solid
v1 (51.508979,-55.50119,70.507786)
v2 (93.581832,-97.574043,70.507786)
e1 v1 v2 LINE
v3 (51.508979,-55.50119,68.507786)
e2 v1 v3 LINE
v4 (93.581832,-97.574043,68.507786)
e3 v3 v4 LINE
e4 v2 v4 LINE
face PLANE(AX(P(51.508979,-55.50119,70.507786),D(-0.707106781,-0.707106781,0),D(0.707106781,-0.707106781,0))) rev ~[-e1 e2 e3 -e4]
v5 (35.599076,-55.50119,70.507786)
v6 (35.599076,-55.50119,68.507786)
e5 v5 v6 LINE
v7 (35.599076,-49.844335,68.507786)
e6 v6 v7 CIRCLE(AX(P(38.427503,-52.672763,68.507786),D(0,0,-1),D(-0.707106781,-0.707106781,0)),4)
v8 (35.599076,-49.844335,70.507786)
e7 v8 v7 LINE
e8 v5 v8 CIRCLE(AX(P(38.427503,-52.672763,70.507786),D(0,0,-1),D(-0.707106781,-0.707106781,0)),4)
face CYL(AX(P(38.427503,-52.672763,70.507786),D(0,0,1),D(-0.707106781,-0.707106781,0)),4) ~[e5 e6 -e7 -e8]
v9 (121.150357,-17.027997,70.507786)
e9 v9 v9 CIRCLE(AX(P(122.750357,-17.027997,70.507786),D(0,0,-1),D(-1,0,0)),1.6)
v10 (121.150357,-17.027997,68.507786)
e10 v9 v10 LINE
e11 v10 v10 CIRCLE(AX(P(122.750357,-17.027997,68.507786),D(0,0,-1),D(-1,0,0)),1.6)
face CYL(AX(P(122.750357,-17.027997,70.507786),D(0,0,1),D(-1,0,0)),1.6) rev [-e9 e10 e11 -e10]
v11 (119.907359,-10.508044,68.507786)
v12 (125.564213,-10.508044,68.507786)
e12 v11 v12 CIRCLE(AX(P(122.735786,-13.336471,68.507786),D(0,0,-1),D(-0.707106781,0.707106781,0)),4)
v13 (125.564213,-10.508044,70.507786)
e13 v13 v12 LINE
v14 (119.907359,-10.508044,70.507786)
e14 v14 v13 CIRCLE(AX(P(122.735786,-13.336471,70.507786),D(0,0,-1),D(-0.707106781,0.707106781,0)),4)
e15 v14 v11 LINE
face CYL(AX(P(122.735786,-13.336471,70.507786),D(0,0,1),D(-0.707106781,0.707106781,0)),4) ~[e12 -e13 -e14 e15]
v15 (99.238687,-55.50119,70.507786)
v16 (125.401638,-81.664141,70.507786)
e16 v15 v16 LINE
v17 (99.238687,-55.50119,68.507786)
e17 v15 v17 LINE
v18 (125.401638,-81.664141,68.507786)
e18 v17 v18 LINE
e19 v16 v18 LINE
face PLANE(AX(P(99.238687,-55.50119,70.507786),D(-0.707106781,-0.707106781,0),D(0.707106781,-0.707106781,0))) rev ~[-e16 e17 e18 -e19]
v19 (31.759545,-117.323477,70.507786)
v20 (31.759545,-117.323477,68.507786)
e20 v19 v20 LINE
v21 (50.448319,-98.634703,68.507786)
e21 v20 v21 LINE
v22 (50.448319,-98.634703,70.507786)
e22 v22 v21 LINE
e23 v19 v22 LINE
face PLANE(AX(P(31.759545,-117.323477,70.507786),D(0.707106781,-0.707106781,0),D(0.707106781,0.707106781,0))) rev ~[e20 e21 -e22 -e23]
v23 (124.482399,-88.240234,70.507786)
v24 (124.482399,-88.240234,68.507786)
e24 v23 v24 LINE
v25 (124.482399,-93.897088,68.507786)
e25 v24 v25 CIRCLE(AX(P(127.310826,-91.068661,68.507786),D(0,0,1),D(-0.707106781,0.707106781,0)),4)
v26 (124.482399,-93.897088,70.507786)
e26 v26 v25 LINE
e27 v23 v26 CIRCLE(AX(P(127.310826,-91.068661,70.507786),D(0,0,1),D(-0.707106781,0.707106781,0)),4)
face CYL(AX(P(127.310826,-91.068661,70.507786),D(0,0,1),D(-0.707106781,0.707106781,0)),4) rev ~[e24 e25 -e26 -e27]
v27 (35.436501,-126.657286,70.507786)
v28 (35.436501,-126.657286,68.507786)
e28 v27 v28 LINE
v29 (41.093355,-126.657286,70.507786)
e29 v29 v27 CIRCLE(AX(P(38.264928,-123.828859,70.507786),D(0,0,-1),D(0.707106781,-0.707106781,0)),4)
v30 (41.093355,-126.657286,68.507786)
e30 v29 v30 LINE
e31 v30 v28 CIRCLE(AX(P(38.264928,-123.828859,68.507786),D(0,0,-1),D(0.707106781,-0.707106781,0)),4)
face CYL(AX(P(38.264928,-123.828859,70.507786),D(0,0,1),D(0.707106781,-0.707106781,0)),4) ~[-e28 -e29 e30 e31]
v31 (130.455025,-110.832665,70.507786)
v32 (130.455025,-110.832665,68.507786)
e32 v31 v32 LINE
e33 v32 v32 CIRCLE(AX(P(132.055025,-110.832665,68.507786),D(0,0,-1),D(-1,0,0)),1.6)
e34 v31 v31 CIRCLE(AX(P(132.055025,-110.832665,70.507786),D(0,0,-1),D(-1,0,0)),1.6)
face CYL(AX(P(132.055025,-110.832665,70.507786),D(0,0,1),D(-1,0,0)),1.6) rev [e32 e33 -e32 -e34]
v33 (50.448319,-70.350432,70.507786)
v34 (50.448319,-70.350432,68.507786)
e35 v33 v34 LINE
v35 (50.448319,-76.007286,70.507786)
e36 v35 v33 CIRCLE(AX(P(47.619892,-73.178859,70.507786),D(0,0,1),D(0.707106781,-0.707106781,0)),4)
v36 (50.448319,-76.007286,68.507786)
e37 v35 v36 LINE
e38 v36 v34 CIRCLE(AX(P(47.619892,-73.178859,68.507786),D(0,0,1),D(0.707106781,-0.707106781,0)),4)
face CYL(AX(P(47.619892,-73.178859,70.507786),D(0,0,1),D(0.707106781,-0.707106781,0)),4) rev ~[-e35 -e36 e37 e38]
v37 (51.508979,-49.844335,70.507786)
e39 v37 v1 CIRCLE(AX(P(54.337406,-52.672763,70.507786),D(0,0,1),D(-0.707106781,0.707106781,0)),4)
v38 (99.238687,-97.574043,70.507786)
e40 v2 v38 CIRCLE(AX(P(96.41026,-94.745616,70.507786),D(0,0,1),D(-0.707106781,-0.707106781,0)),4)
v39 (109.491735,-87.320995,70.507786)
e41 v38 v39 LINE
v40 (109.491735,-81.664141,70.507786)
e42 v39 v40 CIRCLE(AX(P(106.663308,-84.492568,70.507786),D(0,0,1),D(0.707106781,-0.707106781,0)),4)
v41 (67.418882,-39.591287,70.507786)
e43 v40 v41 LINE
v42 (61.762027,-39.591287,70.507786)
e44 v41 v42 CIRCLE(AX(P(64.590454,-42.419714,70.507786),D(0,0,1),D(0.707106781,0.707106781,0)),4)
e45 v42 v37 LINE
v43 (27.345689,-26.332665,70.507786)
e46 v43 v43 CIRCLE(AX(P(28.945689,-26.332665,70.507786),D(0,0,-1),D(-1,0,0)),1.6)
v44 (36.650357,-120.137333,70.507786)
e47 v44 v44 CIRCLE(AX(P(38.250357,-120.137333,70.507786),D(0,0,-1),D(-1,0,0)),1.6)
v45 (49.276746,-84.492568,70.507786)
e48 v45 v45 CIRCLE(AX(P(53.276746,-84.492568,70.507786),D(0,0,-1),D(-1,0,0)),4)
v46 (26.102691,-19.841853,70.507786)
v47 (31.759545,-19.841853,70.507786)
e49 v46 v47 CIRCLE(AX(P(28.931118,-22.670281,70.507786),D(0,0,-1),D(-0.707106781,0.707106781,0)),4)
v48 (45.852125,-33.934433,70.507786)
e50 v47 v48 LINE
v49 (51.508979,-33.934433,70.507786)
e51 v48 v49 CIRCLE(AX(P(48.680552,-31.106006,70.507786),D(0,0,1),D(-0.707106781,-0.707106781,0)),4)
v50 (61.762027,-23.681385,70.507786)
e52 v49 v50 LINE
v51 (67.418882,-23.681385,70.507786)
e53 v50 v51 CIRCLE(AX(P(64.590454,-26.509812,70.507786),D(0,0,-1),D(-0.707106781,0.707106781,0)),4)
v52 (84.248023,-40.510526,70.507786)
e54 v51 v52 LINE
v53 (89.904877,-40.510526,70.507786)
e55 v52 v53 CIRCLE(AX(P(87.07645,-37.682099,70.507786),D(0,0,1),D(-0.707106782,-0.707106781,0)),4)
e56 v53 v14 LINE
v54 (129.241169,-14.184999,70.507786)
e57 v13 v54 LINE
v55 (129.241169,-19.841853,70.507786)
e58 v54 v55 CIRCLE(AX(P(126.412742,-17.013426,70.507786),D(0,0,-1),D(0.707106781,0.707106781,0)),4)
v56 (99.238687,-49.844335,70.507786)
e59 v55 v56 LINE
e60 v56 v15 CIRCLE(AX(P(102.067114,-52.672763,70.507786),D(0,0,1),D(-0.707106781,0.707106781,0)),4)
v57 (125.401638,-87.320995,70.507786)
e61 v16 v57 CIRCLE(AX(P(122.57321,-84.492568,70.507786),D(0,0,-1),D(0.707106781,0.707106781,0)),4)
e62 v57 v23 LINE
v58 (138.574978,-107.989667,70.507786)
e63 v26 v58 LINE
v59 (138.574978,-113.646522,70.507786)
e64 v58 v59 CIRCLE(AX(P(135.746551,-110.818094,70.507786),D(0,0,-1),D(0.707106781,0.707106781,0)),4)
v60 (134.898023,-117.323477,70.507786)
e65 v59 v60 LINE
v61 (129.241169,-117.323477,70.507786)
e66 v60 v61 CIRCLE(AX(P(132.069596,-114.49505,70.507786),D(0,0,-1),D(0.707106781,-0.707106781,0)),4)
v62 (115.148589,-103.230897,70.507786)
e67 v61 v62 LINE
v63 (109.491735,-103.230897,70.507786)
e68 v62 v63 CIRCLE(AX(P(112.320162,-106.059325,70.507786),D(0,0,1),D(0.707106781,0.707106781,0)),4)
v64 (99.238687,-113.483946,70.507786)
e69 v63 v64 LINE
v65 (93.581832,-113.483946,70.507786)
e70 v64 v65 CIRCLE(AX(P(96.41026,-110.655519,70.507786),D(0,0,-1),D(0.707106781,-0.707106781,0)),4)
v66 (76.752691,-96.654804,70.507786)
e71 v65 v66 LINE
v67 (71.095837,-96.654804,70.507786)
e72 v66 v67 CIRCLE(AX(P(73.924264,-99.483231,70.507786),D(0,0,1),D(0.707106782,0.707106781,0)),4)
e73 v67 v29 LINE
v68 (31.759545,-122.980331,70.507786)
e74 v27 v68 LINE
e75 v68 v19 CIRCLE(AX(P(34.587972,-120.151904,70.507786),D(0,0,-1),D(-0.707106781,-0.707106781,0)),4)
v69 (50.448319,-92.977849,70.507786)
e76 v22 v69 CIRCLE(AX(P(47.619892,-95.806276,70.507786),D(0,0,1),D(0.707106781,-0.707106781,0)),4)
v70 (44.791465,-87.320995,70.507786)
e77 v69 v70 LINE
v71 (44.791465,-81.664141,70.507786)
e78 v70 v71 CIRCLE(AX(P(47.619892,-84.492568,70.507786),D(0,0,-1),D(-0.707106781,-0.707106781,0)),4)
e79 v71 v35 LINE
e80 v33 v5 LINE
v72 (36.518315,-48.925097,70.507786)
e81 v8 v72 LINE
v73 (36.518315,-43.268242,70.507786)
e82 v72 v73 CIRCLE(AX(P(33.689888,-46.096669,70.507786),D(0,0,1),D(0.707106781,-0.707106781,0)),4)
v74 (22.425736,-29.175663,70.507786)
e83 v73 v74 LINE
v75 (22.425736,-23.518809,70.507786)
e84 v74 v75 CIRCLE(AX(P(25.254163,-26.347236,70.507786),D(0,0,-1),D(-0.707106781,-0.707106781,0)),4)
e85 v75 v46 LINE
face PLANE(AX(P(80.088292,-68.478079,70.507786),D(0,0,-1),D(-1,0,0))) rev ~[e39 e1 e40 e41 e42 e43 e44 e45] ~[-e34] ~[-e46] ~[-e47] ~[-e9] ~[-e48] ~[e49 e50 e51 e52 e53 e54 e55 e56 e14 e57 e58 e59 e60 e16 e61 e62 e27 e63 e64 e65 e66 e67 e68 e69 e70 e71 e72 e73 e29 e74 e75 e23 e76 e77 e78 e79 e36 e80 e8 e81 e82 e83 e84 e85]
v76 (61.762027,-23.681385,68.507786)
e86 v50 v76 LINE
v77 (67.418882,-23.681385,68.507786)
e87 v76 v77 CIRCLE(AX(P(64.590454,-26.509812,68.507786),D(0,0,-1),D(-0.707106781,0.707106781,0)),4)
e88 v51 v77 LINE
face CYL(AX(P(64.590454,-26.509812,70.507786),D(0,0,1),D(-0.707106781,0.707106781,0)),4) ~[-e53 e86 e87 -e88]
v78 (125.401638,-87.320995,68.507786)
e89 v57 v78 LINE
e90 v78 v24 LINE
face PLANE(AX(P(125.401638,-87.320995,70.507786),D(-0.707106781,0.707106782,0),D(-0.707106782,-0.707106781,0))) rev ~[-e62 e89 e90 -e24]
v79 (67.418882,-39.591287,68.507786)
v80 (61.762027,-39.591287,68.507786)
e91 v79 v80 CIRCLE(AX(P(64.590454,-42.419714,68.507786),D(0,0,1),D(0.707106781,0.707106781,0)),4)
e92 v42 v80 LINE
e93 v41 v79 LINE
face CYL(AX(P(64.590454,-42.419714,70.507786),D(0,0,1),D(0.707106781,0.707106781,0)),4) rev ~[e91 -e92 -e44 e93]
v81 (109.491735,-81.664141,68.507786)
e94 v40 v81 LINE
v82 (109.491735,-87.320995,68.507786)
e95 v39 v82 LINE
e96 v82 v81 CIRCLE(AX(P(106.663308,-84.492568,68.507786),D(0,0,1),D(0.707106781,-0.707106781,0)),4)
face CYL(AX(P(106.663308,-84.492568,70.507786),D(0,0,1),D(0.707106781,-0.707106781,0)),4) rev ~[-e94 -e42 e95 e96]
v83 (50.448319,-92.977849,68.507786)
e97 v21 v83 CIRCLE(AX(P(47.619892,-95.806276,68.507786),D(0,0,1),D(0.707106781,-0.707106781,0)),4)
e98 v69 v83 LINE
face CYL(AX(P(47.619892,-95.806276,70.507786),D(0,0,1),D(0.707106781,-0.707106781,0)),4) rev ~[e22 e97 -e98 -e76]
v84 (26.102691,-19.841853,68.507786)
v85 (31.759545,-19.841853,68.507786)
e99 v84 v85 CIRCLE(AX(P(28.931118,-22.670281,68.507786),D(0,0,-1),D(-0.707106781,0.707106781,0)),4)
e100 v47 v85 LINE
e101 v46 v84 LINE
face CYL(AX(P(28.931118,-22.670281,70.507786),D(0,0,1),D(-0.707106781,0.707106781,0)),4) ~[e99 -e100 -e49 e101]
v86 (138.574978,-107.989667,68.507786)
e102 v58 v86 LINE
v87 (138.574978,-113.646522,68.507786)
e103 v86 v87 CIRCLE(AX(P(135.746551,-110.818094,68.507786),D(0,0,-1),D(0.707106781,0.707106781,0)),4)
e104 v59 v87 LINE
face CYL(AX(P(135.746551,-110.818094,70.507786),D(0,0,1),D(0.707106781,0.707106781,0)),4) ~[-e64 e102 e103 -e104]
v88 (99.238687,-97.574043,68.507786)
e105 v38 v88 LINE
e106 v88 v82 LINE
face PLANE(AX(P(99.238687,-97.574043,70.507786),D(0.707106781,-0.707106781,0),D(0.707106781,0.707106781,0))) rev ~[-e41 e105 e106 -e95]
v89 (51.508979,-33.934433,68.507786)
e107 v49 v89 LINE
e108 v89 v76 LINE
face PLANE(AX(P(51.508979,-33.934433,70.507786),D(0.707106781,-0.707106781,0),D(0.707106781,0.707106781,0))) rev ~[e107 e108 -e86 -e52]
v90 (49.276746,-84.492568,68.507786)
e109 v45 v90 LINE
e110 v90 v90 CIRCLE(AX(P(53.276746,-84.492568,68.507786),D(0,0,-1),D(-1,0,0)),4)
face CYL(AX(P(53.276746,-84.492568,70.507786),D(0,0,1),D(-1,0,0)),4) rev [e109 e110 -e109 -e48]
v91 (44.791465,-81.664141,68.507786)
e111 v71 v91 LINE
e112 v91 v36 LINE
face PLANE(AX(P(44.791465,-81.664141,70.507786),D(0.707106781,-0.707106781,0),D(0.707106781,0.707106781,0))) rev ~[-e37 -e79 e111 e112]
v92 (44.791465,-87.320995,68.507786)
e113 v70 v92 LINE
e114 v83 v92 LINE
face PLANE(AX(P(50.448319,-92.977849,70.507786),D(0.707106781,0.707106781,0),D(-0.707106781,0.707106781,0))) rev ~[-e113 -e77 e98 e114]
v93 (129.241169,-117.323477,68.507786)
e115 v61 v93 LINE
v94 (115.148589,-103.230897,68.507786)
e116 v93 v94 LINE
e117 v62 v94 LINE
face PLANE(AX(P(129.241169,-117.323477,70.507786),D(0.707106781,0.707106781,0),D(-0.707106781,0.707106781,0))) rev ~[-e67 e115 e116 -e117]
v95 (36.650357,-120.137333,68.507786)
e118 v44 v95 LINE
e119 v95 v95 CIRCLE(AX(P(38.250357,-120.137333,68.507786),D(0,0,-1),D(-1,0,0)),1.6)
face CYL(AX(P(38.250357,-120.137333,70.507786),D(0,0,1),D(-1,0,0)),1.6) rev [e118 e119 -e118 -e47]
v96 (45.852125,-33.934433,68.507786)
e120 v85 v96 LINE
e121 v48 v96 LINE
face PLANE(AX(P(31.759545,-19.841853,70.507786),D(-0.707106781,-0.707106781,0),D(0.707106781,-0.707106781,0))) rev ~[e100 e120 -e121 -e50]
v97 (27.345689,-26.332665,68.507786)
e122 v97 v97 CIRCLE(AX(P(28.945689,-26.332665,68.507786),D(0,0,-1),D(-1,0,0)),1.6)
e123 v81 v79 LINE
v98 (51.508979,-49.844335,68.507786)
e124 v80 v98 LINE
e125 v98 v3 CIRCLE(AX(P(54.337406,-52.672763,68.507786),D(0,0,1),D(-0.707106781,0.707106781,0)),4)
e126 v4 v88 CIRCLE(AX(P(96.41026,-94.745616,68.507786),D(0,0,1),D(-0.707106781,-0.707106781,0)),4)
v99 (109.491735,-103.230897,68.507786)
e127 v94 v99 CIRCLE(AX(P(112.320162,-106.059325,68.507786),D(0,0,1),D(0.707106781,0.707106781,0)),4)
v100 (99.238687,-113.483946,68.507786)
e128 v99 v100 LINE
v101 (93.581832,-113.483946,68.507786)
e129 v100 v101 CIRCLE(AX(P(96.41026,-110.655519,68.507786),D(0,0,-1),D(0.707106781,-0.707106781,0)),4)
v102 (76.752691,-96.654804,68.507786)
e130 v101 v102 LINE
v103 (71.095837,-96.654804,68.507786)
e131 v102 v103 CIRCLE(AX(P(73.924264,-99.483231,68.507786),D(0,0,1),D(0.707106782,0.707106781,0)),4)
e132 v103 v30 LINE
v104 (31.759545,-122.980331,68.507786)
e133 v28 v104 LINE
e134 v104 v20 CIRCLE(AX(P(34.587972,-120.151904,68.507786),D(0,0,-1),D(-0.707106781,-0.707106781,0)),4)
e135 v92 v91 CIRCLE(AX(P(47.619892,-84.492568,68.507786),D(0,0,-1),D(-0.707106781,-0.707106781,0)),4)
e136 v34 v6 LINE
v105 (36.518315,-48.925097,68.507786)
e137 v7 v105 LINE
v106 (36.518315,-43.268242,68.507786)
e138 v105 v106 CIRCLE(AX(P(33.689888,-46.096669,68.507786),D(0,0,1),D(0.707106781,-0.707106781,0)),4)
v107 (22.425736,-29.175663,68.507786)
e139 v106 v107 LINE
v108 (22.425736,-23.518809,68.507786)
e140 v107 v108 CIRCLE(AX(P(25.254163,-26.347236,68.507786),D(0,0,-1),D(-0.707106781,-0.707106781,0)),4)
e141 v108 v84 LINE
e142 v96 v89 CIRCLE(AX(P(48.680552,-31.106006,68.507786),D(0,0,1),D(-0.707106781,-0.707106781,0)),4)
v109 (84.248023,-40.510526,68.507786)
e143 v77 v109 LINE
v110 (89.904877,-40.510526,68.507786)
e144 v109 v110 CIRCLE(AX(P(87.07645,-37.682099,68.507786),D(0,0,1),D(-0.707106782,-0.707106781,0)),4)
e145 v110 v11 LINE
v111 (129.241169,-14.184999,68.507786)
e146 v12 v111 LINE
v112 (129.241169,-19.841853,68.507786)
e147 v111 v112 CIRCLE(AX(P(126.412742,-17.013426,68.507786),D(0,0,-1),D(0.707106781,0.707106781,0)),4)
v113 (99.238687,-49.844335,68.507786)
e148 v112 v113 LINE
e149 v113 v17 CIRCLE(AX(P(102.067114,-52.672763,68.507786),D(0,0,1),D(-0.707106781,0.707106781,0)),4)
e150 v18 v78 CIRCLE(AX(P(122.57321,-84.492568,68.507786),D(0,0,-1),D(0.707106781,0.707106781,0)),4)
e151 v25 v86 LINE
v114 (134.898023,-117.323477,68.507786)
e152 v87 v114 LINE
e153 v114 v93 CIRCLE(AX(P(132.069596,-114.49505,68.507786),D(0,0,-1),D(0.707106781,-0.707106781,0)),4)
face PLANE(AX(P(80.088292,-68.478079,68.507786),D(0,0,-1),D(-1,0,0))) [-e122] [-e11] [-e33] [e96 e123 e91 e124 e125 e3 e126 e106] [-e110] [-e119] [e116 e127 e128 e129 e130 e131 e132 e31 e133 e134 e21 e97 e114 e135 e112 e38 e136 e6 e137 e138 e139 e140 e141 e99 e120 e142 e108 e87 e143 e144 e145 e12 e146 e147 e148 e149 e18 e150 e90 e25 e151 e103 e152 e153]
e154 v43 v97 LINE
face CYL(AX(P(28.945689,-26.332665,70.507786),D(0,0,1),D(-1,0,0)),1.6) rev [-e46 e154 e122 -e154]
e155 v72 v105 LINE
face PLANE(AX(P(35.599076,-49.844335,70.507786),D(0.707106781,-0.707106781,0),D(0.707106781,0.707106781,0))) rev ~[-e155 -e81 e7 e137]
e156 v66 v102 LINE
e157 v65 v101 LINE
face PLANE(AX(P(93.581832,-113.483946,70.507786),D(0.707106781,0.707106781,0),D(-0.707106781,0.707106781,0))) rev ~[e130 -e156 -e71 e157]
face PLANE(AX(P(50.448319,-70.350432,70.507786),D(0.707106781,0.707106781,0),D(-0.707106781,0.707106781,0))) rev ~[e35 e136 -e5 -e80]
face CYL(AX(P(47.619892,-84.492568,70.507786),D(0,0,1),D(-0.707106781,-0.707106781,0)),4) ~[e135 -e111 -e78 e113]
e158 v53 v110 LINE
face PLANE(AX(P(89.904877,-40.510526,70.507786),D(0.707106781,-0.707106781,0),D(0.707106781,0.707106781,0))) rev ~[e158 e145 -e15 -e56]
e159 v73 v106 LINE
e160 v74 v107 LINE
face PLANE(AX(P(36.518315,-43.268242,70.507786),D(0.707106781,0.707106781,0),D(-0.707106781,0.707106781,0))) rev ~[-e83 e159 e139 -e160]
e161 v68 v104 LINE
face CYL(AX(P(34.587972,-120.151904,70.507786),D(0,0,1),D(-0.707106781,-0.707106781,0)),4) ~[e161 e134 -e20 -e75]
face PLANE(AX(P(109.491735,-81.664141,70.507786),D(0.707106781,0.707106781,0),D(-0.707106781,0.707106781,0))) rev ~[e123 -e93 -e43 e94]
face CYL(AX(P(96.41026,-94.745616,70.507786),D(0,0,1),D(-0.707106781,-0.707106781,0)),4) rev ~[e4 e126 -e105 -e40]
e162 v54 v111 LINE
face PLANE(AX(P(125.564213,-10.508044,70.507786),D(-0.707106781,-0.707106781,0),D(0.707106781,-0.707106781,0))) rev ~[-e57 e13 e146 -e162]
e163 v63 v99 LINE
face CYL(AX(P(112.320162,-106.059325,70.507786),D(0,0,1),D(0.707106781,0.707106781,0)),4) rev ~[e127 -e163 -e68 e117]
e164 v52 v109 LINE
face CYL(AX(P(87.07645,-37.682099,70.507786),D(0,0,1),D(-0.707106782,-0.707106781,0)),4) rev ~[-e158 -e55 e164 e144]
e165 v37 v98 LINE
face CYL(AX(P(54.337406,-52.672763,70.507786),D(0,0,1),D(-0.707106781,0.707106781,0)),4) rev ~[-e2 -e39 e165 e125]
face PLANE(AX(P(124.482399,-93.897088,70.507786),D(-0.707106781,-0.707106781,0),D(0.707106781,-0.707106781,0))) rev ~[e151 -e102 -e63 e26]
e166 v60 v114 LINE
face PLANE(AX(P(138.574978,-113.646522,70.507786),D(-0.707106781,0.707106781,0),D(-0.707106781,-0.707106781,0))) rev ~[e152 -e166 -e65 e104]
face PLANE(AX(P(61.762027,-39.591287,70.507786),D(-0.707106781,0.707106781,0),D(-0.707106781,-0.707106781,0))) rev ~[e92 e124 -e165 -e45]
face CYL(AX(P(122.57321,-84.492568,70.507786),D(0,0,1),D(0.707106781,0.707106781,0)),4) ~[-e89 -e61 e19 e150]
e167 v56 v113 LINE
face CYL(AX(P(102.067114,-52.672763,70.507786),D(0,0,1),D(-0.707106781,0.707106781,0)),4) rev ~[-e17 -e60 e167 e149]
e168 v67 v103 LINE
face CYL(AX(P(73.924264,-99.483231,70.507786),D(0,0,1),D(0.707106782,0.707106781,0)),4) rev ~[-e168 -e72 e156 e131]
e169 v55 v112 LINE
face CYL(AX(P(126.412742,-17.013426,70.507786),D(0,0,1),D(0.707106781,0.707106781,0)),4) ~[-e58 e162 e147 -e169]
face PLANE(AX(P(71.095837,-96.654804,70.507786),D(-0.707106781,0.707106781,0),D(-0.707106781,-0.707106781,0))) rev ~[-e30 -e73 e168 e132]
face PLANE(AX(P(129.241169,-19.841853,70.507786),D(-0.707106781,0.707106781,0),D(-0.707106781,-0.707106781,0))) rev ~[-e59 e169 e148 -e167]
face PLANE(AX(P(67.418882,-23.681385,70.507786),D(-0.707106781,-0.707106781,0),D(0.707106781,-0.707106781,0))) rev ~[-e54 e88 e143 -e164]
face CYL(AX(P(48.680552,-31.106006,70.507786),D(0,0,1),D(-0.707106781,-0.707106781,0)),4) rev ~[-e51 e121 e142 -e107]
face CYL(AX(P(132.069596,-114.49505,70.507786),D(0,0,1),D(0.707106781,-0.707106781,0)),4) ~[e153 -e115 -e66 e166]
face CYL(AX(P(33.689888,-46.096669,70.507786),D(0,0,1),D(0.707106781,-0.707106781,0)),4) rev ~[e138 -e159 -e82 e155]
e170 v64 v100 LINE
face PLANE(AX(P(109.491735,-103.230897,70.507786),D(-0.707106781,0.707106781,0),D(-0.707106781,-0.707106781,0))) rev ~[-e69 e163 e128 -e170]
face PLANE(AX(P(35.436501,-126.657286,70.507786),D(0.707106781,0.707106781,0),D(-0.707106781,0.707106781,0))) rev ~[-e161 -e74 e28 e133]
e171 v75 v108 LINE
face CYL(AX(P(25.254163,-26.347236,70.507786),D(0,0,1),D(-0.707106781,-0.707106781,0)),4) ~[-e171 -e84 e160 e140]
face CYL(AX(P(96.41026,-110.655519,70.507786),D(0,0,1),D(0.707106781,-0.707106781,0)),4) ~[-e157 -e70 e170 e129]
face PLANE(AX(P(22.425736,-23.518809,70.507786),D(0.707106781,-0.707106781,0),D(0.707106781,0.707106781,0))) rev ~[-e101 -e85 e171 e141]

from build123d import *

# Parameters (mm, degrees)
SKETCH2_R           = 1.6
SKETCH2_R_2         = 4
BOSS_EXTRUDE1_DEPTH = 2


with BuildPart() as part:
    # Sketch2 → Boss-Extrude1 (new body)
    with BuildSketch(Plane(origin=(0, 0, 70.507785861), x_dir=(-1, 0, 0), z_dir=(0, 0, -1))):
        with BuildLine():
            Line((-93.581832429, -113.483945735), (-76.752691037, -96.654804343))
            ThreePointArc((-76.752691037, -96.654804343), (-73.924263912, -95.483231467), (-71.095836788, -96.654804343))
            Line((-71.095836788, -96.654804343), (-41.093354786, -126.657286344))
            ThreePointArc((-41.093354786, -126.657286344), (-38.264927661, -127.828859219), (-35.436500537, -126.657286344))
            Line((-35.436500537, -126.657286344), (-31.759545275, -122.980331082))
            ThreePointArc((-31.759545275, -122.980331082), (-30.587972399, -120.151903957), (-31.759545275, -117.323476832))
            Line((-31.759545275, -117.323476832), (-50.448318777, -98.63470333))
            ThreePointArc((-50.448318777, -98.63470333), (-51.619891652, -95.806276205), (-50.448318777, -92.97784908))
            Line((-50.448318777, -92.97784908), (-44.791464528, -87.320994831))
            ThreePointArc((-44.791464528, -87.320994831), (-43.619891652, -84.492567706), (-44.791464528, -81.664140581))
            Line((-44.791464528, -81.664140581), (-50.448318777, -76.007286332))
            ThreePointArc((-50.448318777, -76.007286332), (-51.619891652, -73.178859207), (-50.448318777, -70.350432082))
            Line((-50.448318777, -70.350432082), (-35.599076372, -55.501189677))
            ThreePointArc((-35.599076372, -55.501189677), (-34.427503497, -52.672762553), (-35.599076372, -49.844335428))
            Line((-35.599076372, -49.844335428), (-36.518315188, -48.925096612))
            ThreePointArc((-36.518315188, -48.925096612), (-37.689888063, -46.096669488), (-36.518315188, -43.268242363))
            Line((-36.518315188, -43.268242363), (-22.425735763, -29.175662938))
            ThreePointArc((-22.425735763, -29.175662938), (-21.254162888, -26.347235813), (-22.425735763, -23.518808689))
            Line((-22.425735763, -23.518808689), (-26.102691025, -19.841853427))
            ThreePointArc((-26.102691025, -19.841853427), (-28.93111815, -18.670280551), (-31.759545275, -19.841853427))
            Line((-31.759545275, -19.841853427), (-45.852124699, -33.934432851))
            ThreePointArc((-45.852124699, -33.934432851), (-48.680551824, -35.106005727), (-51.508978949, -33.934432851))
            Line((-51.508978949, -33.934432851), (-61.762027276, -23.681384524))
            ThreePointArc((-61.762027276, -23.681384524), (-64.590454401, -22.509811649), (-67.418881525, -23.681384524))
            Line((-67.418881525, -23.681384524), (-84.248022918, -40.510525916))
            ThreePointArc((-84.248022918, -40.510525916), (-87.076450042, -41.682098792), (-89.904877167, -40.510525916))
            Line((-89.904877167, -40.510525916), (-119.907359169, -10.508043915))
            ThreePointArc((-119.907359169, -10.508043915), (-122.735786293, -9.33647104), (-125.564213418, -10.508043915))
            Line((-125.564213418, -10.508043915), (-129.24116868, -14.184999177))
            ThreePointArc((-129.24116868, -14.184999177), (-130.412741556, -17.013426302), (-129.24116868, -19.841853427))
            Line((-129.24116868, -19.841853427), (-99.238686679, -49.844335428))
            ThreePointArc((-99.238686679, -49.844335428), (-98.067113804, -52.672762553), (-99.238686679, -55.501189677))
            Line((-99.238686679, -55.501189677), (-125.401637583, -81.664140581))
            ThreePointArc((-125.401637583, -81.664140581), (-126.573210458, -84.492567706), (-125.401637583, -87.320994831))
            Line((-125.401637583, -87.320994831), (-124.482398767, -88.240233646))
            ThreePointArc((-124.482398767, -88.240233646), (-123.310825892, -91.068660771), (-124.482398767, -93.897087896))
            Line((-124.482398767, -93.897087896), (-138.574978192, -107.989667321))
            ThreePointArc((-138.574978192, -107.989667321), (-139.746551067, -110.818094445), (-138.574978192, -113.64652157))
            Line((-138.574978192, -113.64652157), (-134.89802293, -117.323476832))
            ThreePointArc((-134.89802293, -117.323476832), (-132.069595805, -118.495049708), (-129.24116868, -117.323476832))
            Line((-129.24116868, -117.323476832), (-115.148589256, -103.230897408))
            ThreePointArc((-115.148589256, -103.230897408), (-112.320162131, -102.059324532), (-109.491735006, -103.230897408))
            Line((-109.491735006, -103.230897408), (-99.238686679, -113.483945735))
            ThreePointArc((-99.238686679, -113.483945735), (-96.410259554, -114.65551861), (-93.581832429, -113.483945735))
        make_face()
        with Locations((-132.055025121, -110.832665129)):
            Circle(SKETCH2_R, mode=Mode.SUBTRACT)
        with Locations((-28.945688834, -26.332665129)):
            Circle(SKETCH2_R, mode=Mode.SUBTRACT)
        with Locations((-122.750356977, -17.027996986)):
            Circle(SKETCH2_R, mode=Mode.SUBTRACT)
        with Locations((-38.250356977, -120.137333273)):
            Circle(SKETCH2_R, mode=Mode.SUBTRACT)
        with Locations((-53.276745902, -84.492567706)):
            Circle(SKETCH2_R_2, mode=Mode.SUBTRACT)
        with BuildLine():
            Line((-109.491735006, -81.664140581), (-67.418881525, -39.591287101))
            ThreePointArc((-67.418881525, -39.591287101), (-64.590454401, -38.419714226), (-61.762027276, -39.591287101))
            Line((-61.762027276, -39.591287101), (-51.508978949, -49.844335428))
            ThreePointArc((-51.508978949, -49.844335428), (-50.337406074, -52.672762553), (-51.508978949, -55.501189677))
            Line((-51.508978949, -55.501189677), (-93.581832429, -97.574043158))
            ThreePointArc((-93.581832429, -97.574043158), (-96.410259554, -98.745616033), (-99.238686679, -97.574043158))
            Line((-99.238686679, -97.574043158), (-109.491735006, -87.320994831))
            ThreePointArc((-109.491735006, -87.320994831), (-110.663307881, -84.492567706), (-109.491735006, -81.664140581))
        make_face(mode=Mode.SUBTRACT)
    extrude(amount=BOSS_EXTRUDE1_DEPTH)


solid = part.part
